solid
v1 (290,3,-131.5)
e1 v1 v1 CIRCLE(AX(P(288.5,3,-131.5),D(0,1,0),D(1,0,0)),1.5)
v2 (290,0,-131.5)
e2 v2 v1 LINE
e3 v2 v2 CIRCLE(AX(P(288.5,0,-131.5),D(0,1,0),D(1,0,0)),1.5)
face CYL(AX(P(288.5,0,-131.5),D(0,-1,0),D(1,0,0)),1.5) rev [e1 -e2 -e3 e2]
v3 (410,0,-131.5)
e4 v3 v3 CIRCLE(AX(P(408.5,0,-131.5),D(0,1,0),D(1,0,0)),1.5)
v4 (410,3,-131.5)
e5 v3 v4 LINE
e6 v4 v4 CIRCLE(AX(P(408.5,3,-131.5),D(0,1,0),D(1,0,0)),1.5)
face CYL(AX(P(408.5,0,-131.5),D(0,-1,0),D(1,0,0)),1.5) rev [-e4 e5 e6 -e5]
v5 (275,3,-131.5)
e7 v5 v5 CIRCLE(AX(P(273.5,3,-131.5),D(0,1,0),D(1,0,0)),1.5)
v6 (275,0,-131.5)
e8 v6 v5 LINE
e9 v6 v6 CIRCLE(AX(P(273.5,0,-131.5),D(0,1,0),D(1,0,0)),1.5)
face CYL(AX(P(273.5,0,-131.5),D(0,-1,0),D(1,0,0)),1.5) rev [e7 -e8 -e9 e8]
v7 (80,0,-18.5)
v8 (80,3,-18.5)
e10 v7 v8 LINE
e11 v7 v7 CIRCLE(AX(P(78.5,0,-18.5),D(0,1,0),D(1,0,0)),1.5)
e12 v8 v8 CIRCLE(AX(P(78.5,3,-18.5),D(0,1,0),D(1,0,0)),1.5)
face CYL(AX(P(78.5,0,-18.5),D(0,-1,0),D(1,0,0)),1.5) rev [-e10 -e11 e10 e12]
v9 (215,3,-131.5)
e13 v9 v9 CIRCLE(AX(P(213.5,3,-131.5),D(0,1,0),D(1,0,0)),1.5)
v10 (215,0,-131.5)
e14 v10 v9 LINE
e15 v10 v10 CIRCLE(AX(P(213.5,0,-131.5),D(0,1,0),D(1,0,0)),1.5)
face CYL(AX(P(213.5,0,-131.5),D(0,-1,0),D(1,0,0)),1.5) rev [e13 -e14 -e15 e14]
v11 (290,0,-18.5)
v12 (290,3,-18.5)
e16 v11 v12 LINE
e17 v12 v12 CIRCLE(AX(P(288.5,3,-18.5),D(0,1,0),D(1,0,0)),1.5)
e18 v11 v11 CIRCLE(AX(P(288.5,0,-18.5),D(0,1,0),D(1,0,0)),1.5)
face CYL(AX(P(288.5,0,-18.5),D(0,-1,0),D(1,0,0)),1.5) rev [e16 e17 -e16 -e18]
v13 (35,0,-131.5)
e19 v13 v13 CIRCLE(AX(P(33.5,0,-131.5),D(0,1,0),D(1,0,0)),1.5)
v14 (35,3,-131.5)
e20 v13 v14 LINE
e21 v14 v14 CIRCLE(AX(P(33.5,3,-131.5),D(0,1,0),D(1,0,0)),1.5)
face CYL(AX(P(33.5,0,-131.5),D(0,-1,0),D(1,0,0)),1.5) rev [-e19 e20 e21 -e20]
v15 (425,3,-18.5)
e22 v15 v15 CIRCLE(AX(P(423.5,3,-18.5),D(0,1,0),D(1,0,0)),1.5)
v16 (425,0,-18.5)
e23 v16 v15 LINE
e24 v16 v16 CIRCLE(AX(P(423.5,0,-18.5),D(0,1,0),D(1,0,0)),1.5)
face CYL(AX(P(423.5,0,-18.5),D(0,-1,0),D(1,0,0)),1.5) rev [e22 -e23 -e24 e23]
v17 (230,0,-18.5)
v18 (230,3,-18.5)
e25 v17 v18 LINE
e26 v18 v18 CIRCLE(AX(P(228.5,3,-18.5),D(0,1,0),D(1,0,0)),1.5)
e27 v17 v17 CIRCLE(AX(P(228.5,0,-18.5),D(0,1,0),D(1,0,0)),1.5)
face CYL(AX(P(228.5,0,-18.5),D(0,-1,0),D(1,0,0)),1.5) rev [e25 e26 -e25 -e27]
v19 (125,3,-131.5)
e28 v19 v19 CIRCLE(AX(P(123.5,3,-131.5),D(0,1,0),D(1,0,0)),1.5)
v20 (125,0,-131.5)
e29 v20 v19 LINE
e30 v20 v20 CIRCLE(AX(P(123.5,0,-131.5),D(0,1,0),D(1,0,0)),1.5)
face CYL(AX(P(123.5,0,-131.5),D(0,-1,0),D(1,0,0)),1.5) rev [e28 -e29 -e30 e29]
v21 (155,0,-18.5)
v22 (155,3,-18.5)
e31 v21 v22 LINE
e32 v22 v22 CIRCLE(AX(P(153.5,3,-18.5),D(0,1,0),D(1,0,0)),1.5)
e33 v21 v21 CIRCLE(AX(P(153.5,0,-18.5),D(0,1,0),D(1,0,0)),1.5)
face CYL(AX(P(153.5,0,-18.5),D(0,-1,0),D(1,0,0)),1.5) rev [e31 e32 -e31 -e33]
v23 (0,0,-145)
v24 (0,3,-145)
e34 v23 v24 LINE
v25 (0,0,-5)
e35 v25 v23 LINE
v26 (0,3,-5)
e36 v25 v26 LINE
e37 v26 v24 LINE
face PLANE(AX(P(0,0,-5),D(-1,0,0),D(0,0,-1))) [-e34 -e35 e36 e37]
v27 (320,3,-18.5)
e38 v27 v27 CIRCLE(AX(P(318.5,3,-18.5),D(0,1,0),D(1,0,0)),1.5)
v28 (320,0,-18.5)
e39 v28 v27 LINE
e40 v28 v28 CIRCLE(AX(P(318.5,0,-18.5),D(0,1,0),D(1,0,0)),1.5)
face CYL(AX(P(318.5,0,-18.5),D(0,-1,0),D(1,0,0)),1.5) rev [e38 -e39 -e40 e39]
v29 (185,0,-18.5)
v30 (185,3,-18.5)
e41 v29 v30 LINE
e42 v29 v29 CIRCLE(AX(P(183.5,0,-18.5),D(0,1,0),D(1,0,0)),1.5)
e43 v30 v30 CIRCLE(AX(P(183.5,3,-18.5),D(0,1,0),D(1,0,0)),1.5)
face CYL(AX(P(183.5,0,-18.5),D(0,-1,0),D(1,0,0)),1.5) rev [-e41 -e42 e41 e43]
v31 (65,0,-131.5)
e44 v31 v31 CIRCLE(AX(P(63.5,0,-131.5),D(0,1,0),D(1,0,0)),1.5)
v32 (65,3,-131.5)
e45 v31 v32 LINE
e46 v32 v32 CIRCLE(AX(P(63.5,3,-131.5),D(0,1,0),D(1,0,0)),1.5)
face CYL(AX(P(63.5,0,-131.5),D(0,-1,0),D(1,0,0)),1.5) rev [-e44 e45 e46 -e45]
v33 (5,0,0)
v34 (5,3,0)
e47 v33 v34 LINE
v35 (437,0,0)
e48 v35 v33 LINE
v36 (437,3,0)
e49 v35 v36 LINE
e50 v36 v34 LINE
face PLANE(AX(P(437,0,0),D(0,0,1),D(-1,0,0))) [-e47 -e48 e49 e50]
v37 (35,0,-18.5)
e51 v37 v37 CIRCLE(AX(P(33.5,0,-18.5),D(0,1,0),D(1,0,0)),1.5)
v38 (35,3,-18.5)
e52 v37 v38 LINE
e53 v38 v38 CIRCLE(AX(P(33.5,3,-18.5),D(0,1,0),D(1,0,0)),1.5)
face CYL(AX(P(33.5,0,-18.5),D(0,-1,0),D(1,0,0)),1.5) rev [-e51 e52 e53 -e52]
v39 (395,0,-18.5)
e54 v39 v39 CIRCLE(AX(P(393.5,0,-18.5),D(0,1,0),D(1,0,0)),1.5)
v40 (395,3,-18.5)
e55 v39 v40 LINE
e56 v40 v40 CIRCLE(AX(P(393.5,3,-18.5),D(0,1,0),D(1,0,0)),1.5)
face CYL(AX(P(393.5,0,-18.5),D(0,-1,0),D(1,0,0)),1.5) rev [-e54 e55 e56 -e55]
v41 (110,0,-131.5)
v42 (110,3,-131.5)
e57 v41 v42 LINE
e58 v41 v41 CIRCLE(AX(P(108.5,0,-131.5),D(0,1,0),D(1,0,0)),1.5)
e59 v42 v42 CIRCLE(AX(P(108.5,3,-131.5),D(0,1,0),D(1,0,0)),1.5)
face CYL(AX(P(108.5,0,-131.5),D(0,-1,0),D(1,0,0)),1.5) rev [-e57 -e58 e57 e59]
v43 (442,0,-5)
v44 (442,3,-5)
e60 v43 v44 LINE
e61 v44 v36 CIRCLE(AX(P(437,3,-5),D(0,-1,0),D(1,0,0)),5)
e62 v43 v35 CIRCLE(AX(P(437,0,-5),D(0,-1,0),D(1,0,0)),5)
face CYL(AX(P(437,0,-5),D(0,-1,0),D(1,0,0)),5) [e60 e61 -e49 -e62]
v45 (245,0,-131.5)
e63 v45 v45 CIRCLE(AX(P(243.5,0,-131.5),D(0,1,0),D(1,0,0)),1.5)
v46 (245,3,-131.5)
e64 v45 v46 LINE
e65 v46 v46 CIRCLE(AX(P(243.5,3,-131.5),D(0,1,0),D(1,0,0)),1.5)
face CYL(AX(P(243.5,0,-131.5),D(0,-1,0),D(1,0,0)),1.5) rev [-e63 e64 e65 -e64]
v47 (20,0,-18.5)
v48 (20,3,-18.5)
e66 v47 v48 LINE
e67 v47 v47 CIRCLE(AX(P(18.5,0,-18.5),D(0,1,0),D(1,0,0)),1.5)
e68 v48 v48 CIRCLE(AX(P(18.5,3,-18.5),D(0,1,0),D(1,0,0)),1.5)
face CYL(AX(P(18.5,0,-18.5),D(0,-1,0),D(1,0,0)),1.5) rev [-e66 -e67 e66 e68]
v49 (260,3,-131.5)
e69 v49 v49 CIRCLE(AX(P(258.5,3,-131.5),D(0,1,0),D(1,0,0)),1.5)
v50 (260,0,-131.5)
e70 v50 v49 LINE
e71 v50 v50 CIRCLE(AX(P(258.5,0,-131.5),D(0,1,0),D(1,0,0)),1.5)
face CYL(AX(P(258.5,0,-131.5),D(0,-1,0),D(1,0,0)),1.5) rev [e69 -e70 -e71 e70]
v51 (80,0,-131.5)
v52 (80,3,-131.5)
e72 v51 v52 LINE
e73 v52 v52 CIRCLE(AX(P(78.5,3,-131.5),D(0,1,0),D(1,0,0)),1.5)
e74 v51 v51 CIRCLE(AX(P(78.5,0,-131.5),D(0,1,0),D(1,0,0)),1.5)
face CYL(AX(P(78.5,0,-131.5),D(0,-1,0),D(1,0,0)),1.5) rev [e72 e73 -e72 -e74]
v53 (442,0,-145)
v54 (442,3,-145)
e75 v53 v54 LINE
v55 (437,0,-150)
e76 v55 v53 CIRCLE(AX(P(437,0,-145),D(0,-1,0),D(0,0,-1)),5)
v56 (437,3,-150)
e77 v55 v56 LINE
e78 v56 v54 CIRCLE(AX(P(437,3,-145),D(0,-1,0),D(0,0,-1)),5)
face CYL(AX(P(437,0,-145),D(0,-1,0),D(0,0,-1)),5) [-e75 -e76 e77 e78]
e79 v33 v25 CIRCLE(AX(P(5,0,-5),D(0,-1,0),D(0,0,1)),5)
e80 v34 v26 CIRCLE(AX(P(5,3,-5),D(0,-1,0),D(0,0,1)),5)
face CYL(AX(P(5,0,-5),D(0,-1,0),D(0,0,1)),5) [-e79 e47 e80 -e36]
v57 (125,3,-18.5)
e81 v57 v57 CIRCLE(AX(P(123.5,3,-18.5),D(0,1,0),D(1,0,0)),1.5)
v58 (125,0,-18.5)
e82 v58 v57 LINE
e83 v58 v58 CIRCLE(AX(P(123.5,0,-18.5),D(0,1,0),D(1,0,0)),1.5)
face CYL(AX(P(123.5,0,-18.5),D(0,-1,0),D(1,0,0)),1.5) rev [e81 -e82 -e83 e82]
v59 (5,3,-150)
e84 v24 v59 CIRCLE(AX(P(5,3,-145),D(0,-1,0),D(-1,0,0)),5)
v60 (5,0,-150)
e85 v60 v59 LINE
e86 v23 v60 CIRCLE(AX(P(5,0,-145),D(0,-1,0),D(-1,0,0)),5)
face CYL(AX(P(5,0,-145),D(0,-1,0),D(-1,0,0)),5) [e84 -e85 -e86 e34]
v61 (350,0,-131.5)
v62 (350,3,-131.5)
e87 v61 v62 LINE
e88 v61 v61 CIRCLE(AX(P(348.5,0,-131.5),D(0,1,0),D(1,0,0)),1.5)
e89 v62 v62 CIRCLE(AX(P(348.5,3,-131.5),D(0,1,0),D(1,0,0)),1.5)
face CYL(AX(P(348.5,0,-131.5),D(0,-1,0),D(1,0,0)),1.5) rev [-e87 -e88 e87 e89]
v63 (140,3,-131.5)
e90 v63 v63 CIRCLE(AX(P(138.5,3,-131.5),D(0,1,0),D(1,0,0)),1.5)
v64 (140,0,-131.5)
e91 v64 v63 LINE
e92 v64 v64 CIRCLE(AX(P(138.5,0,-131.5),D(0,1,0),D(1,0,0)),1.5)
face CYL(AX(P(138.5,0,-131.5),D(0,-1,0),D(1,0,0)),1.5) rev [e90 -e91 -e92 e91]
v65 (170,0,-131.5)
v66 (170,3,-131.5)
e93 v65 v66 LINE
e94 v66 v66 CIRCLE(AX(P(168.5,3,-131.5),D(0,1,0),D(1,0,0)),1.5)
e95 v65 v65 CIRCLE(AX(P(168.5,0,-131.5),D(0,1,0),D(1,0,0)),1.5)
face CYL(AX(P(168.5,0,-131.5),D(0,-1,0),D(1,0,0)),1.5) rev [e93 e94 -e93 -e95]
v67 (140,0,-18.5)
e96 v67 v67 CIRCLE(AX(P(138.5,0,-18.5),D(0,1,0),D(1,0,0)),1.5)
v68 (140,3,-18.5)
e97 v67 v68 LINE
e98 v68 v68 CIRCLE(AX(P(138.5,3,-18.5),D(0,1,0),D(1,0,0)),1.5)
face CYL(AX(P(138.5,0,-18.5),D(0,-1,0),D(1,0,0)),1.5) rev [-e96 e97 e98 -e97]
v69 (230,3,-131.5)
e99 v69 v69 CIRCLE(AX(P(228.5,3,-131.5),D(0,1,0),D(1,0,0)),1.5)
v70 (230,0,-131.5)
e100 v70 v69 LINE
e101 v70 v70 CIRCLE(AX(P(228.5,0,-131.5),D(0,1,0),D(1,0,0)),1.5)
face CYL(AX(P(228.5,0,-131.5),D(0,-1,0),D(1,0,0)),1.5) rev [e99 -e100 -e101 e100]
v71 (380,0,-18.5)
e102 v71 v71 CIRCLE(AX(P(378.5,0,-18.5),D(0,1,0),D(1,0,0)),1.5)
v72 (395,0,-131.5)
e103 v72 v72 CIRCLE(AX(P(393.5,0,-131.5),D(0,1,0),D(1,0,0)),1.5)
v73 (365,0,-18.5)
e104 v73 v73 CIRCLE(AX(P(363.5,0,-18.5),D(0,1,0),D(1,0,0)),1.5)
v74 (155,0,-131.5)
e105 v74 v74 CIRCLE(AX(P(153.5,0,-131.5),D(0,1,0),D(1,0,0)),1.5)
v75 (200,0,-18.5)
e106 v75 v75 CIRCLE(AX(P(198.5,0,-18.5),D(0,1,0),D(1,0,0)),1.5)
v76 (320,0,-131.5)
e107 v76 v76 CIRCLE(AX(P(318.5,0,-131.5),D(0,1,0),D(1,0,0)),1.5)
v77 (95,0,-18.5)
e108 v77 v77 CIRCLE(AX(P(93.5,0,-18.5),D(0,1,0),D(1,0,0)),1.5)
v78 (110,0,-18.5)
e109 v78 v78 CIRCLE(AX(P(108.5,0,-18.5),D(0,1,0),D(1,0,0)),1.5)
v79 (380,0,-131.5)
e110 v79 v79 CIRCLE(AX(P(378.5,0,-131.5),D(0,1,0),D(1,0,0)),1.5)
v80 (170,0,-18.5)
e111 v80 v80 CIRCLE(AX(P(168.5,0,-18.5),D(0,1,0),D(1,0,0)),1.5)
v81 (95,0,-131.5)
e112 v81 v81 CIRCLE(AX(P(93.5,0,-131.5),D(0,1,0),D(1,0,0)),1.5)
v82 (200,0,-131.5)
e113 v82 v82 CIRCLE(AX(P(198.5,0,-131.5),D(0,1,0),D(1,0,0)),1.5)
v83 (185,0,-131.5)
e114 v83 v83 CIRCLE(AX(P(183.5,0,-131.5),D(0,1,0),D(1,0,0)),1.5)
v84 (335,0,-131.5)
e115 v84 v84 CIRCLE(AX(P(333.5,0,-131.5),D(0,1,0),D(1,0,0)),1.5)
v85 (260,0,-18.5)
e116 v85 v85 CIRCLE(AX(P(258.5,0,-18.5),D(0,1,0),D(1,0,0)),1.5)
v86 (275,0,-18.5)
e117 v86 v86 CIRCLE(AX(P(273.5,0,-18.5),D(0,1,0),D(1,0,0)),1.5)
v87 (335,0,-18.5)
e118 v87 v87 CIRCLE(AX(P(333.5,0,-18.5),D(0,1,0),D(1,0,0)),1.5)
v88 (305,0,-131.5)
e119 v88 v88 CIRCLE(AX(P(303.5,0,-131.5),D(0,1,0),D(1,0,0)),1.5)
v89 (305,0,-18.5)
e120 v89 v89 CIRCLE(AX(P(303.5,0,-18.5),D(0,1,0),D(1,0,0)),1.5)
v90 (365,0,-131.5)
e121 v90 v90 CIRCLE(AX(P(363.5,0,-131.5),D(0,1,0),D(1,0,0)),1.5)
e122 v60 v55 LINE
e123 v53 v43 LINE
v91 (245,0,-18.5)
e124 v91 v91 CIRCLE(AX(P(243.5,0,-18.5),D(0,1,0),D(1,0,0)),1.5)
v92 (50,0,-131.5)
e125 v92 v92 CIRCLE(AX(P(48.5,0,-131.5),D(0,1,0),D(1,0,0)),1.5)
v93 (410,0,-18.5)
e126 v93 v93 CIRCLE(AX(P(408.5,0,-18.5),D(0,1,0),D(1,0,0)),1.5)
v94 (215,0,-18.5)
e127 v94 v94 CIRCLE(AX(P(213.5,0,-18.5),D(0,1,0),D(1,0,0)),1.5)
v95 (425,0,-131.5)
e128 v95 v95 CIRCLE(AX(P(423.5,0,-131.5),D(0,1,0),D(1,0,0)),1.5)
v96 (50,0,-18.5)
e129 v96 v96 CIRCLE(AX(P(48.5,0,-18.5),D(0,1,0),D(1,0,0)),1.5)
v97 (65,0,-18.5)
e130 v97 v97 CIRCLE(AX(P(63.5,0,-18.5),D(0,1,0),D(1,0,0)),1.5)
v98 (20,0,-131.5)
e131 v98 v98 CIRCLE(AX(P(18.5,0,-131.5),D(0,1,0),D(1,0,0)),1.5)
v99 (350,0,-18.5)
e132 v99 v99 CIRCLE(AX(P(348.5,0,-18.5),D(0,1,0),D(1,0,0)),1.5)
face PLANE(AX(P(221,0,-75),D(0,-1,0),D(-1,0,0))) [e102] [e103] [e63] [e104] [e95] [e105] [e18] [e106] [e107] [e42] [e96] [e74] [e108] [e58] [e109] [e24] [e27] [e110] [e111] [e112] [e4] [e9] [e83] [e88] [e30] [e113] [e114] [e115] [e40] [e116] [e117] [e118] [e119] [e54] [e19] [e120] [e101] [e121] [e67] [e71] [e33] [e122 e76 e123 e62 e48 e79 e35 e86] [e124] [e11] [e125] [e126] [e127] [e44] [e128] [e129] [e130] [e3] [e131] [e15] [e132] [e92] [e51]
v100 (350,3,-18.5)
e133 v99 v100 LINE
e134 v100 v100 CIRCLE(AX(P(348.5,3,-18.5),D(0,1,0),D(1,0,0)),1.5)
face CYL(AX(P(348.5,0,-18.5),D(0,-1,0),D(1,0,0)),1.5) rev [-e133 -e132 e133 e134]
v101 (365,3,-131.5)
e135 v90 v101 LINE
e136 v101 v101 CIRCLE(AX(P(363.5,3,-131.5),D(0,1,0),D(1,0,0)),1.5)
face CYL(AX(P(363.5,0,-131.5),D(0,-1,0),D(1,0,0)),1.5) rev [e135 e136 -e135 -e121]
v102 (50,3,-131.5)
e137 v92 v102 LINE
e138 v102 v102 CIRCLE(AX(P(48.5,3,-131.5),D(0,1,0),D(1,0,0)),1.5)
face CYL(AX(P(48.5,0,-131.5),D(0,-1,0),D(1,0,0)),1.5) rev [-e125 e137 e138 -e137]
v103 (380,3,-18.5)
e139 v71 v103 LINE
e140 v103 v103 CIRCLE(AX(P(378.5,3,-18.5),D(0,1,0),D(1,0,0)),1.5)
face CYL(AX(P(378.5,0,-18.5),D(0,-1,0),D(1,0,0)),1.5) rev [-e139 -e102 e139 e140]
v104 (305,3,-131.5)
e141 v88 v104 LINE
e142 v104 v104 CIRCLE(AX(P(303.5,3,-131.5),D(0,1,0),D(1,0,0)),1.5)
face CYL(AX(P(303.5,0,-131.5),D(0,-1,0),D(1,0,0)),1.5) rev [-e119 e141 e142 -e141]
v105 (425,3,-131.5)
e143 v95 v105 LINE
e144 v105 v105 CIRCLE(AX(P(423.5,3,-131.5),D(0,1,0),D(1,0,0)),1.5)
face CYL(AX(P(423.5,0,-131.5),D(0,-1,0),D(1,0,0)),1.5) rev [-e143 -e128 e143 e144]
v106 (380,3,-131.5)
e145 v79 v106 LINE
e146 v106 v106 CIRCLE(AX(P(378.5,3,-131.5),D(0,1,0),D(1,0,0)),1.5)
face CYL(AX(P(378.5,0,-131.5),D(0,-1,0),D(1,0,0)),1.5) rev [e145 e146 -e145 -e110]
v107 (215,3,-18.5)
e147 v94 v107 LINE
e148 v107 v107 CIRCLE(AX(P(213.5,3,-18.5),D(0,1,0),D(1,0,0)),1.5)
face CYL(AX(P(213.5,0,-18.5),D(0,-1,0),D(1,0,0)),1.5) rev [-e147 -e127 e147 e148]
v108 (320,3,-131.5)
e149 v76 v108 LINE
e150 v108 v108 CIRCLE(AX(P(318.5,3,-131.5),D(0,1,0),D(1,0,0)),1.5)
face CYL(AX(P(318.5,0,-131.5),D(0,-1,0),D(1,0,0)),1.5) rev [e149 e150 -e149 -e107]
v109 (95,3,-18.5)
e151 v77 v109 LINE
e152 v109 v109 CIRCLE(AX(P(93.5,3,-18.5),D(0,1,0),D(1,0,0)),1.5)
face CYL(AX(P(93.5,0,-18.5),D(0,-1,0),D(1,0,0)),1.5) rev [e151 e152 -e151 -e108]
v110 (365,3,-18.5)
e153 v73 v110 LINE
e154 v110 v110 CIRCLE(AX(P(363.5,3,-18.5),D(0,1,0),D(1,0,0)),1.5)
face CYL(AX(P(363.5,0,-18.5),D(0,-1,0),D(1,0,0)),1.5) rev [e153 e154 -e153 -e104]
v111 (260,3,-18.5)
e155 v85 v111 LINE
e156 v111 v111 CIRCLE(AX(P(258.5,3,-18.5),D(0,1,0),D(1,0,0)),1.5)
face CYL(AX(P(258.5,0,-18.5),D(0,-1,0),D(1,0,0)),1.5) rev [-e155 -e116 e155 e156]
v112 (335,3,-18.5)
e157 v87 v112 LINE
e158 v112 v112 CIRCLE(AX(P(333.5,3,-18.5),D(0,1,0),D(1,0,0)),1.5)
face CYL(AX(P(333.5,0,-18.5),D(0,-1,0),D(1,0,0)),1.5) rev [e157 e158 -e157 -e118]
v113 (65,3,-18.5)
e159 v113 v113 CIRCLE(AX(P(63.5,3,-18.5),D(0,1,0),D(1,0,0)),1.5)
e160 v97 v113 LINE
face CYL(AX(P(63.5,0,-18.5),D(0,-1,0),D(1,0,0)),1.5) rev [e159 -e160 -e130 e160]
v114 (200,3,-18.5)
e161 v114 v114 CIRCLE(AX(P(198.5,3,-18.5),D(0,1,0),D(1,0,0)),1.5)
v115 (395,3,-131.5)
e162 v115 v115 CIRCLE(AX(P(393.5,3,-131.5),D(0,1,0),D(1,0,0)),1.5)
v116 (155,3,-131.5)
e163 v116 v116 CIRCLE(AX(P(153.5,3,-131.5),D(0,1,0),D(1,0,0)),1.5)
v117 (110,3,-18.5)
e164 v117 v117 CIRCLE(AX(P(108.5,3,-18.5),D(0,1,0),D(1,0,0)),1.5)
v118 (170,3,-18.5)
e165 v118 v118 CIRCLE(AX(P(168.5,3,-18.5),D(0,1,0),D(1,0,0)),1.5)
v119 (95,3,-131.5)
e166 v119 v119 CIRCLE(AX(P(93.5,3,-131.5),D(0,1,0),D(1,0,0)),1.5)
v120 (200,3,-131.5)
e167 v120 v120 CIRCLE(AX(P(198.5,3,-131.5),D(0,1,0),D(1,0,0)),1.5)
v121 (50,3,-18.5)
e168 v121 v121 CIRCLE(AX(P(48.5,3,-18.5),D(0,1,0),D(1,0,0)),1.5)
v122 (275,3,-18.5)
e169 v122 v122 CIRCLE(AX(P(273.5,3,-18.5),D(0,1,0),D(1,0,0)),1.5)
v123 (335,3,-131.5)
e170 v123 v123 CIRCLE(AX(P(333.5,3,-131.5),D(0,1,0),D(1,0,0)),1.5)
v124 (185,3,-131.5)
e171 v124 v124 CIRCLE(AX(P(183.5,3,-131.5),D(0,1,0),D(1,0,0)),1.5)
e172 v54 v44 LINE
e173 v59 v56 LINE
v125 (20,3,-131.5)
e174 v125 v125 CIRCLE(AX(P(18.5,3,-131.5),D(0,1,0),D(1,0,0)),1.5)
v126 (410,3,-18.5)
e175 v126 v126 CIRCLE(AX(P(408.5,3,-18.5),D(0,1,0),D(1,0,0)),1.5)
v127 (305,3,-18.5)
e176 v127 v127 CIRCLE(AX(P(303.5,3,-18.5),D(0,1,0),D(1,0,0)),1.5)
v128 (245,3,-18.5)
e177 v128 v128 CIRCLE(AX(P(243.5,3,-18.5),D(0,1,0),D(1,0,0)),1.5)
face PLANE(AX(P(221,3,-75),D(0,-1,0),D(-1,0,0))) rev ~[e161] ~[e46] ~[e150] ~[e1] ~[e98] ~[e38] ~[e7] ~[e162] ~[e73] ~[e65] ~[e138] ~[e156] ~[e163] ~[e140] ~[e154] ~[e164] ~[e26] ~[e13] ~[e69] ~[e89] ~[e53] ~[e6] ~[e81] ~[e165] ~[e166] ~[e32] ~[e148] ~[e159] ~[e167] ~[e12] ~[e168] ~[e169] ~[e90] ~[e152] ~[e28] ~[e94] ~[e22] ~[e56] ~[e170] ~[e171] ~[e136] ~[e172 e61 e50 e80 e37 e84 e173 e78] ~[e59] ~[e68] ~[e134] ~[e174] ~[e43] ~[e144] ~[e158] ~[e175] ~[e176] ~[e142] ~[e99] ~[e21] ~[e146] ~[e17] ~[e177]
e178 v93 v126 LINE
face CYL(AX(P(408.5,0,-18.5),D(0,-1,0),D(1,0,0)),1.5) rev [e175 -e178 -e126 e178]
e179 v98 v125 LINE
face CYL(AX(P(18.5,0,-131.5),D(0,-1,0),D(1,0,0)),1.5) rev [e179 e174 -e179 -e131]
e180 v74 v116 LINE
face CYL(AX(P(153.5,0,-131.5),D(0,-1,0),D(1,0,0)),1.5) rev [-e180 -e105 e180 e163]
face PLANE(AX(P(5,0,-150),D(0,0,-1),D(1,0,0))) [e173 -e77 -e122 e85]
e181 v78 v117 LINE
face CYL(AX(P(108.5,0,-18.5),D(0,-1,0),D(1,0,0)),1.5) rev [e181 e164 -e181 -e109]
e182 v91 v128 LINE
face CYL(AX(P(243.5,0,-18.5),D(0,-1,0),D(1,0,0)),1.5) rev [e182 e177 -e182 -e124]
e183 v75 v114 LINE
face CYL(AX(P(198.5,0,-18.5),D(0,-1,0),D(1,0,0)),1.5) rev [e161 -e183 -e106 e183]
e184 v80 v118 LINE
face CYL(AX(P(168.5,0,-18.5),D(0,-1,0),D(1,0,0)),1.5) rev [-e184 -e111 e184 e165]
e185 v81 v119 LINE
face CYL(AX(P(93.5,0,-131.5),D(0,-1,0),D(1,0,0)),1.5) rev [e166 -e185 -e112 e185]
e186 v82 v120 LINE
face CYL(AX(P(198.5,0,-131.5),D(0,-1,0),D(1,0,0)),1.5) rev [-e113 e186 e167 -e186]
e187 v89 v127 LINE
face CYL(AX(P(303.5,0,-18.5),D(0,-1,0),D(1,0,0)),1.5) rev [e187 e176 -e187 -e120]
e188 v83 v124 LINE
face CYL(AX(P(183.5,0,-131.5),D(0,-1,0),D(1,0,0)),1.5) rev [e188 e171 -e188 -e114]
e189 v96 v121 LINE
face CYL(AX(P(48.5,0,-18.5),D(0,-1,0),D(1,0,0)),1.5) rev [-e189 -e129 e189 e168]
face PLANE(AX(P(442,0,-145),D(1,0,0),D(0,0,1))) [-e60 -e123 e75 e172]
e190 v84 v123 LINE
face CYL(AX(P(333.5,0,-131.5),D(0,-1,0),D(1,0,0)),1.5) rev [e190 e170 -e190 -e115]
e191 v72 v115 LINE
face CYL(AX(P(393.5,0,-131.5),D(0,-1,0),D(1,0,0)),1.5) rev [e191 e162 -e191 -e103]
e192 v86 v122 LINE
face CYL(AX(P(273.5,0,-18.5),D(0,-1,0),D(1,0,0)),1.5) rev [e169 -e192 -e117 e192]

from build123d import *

# Parameters (mm, degrees)
SKETCH2_R           = 1.5
BOSS_EXTRUDE1_DEPTH = 3


with BuildPart() as part:
    # Sketch2 → Boss-Extrude1 (new body)
    with BuildSketch(Plane(origin=(0, 0, 0), x_dir=(1, 0, 0), z_dir=(0, 1, 0))):
        with BuildLine():
            Line((0, 5), (0, 145))
            ThreePointArc((0, 145), (1.464466094, 148.535533906), (5, 150))
            Line((5, 150), (437, 150))
            ThreePointArc((437, 150), (440.535533906, 148.535533906), (442, 145))
            Line((442, 145), (442, 5))
            ThreePointArc((442, 5), (440.535533906, 1.464466094), (437, 0))
            Line((437, 0), (5, 0))
            ThreePointArc((5, 0), (1.464466094, 1.464466094), (0, 5))
        make_face()
        with Locations((18.5, 131.5)):
            Circle(SKETCH2_R, mode=Mode.SUBTRACT)
        with Locations((18.5, 18.5)):
            Circle(SKETCH2_R, mode=Mode.SUBTRACT)
        with Locations((78.5, 18.5)):
            Circle(SKETCH2_R, mode=Mode.SUBTRACT)
        with Locations((63.5, 18.5)):
            Circle(SKETCH2_R, mode=Mode.SUBTRACT)
        with Locations((48.5, 18.5)):
            Circle(SKETCH2_R, mode=Mode.SUBTRACT)
        with Locations((33.5, 18.5)):
            Circle(SKETCH2_R, mode=Mode.SUBTRACT)
        with Locations((78.5, 131.5)):
            Circle(SKETCH2_R, mode=Mode.SUBTRACT)
        with Locations((63.5, 131.5)):
            Circle(SKETCH2_R, mode=Mode.SUBTRACT)
        with Locations((48.5, 131.5)):
            Circle(SKETCH2_R, mode=Mode.SUBTRACT)
        with Locations((33.5, 131.5)):
            Circle(SKETCH2_R, mode=Mode.SUBTRACT)
        with Locations((123.5, 131.5)):
            Circle(SKETCH2_R, mode=Mode.SUBTRACT)
        with Locations((108.5, 131.5)):
            Circle(SKETCH2_R, mode=Mode.SUBTRACT)
        with Locations((93.5, 131.5)):
            Circle(SKETCH2_R, mode=Mode.SUBTRACT)
        with Locations((123.5, 18.5)):
            Circle(SKETCH2_R, mode=Mode.SUBTRACT)
        with Locations((108.5, 18.5)):
            Circle(SKETCH2_R, mode=Mode.SUBTRACT)
        with Locations((93.5, 18.5)):
            Circle(SKETCH2_R, mode=Mode.SUBTRACT)
        with Locations((138.5, 18.5)):
            Circle(SKETCH2_R, mode=Mode.SUBTRACT)
        with Locations((153.5, 131.5)):
            Circle(SKETCH2_R, mode=Mode.SUBTRACT)
        with Locations((138.5, 131.5)):
            Circle(SKETCH2_R, mode=Mode.SUBTRACT)
        with Locations((183.5, 131.5)):
            Circle(SKETCH2_R, mode=Mode.SUBTRACT)
        with Locations((168.5, 131.5)):
            Circle(SKETCH2_R, mode=Mode.SUBTRACT)
        with Locations((183.5, 18.5)):
            Circle(SKETCH2_R, mode=Mode.SUBTRACT)
        with Locations((168.5, 18.5)):
            Circle(SKETCH2_R, mode=Mode.SUBTRACT)
        with Locations((153.5, 18.5)):
            Circle(SKETCH2_R, mode=Mode.SUBTRACT)
        with Locations((198.5, 18.5)):
            Circle(SKETCH2_R, mode=Mode.SUBTRACT)
        with Locations((243.5, 18.5)):
            Circle(SKETCH2_R, mode=Mode.SUBTRACT)
        with Locations((228.5, 18.5)):
            Circle(SKETCH2_R, mode=Mode.SUBTRACT)
        with Locations((213.5, 18.5)):
            Circle(SKETCH2_R, mode=Mode.SUBTRACT)
        with Locations((258.5, 18.5)):
            Circle(SKETCH2_R, mode=Mode.SUBTRACT)
        with Locations((303.5, 18.5)):
            Circle(SKETCH2_R, mode=Mode.SUBTRACT)
        with Locations((288.5, 18.5)):
            Circle(SKETCH2_R, mode=Mode.SUBTRACT)
        with Locations((273.5, 18.5)):
            Circle(SKETCH2_R, mode=Mode.SUBTRACT)
        with Locations((333.5, 18.5)):
            Circle(SKETCH2_R, mode=Mode.SUBTRACT)
        with Locations((318.5, 18.5)):
            Circle(SKETCH2_R, mode=Mode.SUBTRACT)
        with Locations((348.5, 18.5)):
            Circle(SKETCH2_R, mode=Mode.SUBTRACT)
        with Locations((393.5, 18.5)):
            Circle(SKETCH2_R, mode=Mode.SUBTRACT)
        with Locations((378.5, 18.5)):
            Circle(SKETCH2_R, mode=Mode.SUBTRACT)
        with Locations((363.5, 18.5)):
            Circle(SKETCH2_R, mode=Mode.SUBTRACT)
        with Locations((423.5, 18.5)):
            Circle(SKETCH2_R, mode=Mode.SUBTRACT)
        with Locations((408.5, 18.5)):
            Circle(SKETCH2_R, mode=Mode.SUBTRACT)
        with Locations((198.5, 131.5)):
            Circle(SKETCH2_R, mode=Mode.SUBTRACT)
        with Locations((228.5, 131.5)):
            Circle(SKETCH2_R, mode=Mode.SUBTRACT)
        with Locations((213.5, 131.5)):
            Circle(SKETCH2_R, mode=Mode.SUBTRACT)
        with Locations((258.5, 131.5)):
            Circle(SKETCH2_R, mode=Mode.SUBTRACT)
        with Locations((243.5, 131.5)):
            Circle(SKETCH2_R, mode=Mode.SUBTRACT)
        with Locations((288.5, 131.5)):
            Circle(SKETCH2_R, mode=Mode.SUBTRACT)
        with Locations((273.5, 131.5)):
            Circle(SKETCH2_R, mode=Mode.SUBTRACT)
        with Locations((318.5, 131.5)):
            Circle(SKETCH2_R, mode=Mode.SUBTRACT)
        with Locations((303.5, 131.5)):
            Circle(SKETCH2_R, mode=Mode.SUBTRACT)
        with Locations((348.5, 131.5)):
            Circle(SKETCH2_R, mode=Mode.SUBTRACT)
        with Locations((333.5, 131.5)):
            Circle(SKETCH2_R, mode=Mode.SUBTRACT)
        with Locations((378.5, 131.5)):
            Circle(SKETCH2_R, mode=Mode.SUBTRACT)
        with Locations((363.5, 131.5)):
            Circle(SKETCH2_R, mode=Mode.SUBTRACT)
        with Locations((423.5, 131.5)):
            Circle(SKETCH2_R, mode=Mode.SUBTRACT)
        with Locations((408.5, 131.5)):
            Circle(SKETCH2_R, mode=Mode.SUBTRACT)
        with Locations((393.5, 131.5)):
            Circle(SKETCH2_R, mode=Mode.SUBTRACT)
    extrude(amount=BOSS_EXTRUDE1_DEPTH)


solid = part.part
